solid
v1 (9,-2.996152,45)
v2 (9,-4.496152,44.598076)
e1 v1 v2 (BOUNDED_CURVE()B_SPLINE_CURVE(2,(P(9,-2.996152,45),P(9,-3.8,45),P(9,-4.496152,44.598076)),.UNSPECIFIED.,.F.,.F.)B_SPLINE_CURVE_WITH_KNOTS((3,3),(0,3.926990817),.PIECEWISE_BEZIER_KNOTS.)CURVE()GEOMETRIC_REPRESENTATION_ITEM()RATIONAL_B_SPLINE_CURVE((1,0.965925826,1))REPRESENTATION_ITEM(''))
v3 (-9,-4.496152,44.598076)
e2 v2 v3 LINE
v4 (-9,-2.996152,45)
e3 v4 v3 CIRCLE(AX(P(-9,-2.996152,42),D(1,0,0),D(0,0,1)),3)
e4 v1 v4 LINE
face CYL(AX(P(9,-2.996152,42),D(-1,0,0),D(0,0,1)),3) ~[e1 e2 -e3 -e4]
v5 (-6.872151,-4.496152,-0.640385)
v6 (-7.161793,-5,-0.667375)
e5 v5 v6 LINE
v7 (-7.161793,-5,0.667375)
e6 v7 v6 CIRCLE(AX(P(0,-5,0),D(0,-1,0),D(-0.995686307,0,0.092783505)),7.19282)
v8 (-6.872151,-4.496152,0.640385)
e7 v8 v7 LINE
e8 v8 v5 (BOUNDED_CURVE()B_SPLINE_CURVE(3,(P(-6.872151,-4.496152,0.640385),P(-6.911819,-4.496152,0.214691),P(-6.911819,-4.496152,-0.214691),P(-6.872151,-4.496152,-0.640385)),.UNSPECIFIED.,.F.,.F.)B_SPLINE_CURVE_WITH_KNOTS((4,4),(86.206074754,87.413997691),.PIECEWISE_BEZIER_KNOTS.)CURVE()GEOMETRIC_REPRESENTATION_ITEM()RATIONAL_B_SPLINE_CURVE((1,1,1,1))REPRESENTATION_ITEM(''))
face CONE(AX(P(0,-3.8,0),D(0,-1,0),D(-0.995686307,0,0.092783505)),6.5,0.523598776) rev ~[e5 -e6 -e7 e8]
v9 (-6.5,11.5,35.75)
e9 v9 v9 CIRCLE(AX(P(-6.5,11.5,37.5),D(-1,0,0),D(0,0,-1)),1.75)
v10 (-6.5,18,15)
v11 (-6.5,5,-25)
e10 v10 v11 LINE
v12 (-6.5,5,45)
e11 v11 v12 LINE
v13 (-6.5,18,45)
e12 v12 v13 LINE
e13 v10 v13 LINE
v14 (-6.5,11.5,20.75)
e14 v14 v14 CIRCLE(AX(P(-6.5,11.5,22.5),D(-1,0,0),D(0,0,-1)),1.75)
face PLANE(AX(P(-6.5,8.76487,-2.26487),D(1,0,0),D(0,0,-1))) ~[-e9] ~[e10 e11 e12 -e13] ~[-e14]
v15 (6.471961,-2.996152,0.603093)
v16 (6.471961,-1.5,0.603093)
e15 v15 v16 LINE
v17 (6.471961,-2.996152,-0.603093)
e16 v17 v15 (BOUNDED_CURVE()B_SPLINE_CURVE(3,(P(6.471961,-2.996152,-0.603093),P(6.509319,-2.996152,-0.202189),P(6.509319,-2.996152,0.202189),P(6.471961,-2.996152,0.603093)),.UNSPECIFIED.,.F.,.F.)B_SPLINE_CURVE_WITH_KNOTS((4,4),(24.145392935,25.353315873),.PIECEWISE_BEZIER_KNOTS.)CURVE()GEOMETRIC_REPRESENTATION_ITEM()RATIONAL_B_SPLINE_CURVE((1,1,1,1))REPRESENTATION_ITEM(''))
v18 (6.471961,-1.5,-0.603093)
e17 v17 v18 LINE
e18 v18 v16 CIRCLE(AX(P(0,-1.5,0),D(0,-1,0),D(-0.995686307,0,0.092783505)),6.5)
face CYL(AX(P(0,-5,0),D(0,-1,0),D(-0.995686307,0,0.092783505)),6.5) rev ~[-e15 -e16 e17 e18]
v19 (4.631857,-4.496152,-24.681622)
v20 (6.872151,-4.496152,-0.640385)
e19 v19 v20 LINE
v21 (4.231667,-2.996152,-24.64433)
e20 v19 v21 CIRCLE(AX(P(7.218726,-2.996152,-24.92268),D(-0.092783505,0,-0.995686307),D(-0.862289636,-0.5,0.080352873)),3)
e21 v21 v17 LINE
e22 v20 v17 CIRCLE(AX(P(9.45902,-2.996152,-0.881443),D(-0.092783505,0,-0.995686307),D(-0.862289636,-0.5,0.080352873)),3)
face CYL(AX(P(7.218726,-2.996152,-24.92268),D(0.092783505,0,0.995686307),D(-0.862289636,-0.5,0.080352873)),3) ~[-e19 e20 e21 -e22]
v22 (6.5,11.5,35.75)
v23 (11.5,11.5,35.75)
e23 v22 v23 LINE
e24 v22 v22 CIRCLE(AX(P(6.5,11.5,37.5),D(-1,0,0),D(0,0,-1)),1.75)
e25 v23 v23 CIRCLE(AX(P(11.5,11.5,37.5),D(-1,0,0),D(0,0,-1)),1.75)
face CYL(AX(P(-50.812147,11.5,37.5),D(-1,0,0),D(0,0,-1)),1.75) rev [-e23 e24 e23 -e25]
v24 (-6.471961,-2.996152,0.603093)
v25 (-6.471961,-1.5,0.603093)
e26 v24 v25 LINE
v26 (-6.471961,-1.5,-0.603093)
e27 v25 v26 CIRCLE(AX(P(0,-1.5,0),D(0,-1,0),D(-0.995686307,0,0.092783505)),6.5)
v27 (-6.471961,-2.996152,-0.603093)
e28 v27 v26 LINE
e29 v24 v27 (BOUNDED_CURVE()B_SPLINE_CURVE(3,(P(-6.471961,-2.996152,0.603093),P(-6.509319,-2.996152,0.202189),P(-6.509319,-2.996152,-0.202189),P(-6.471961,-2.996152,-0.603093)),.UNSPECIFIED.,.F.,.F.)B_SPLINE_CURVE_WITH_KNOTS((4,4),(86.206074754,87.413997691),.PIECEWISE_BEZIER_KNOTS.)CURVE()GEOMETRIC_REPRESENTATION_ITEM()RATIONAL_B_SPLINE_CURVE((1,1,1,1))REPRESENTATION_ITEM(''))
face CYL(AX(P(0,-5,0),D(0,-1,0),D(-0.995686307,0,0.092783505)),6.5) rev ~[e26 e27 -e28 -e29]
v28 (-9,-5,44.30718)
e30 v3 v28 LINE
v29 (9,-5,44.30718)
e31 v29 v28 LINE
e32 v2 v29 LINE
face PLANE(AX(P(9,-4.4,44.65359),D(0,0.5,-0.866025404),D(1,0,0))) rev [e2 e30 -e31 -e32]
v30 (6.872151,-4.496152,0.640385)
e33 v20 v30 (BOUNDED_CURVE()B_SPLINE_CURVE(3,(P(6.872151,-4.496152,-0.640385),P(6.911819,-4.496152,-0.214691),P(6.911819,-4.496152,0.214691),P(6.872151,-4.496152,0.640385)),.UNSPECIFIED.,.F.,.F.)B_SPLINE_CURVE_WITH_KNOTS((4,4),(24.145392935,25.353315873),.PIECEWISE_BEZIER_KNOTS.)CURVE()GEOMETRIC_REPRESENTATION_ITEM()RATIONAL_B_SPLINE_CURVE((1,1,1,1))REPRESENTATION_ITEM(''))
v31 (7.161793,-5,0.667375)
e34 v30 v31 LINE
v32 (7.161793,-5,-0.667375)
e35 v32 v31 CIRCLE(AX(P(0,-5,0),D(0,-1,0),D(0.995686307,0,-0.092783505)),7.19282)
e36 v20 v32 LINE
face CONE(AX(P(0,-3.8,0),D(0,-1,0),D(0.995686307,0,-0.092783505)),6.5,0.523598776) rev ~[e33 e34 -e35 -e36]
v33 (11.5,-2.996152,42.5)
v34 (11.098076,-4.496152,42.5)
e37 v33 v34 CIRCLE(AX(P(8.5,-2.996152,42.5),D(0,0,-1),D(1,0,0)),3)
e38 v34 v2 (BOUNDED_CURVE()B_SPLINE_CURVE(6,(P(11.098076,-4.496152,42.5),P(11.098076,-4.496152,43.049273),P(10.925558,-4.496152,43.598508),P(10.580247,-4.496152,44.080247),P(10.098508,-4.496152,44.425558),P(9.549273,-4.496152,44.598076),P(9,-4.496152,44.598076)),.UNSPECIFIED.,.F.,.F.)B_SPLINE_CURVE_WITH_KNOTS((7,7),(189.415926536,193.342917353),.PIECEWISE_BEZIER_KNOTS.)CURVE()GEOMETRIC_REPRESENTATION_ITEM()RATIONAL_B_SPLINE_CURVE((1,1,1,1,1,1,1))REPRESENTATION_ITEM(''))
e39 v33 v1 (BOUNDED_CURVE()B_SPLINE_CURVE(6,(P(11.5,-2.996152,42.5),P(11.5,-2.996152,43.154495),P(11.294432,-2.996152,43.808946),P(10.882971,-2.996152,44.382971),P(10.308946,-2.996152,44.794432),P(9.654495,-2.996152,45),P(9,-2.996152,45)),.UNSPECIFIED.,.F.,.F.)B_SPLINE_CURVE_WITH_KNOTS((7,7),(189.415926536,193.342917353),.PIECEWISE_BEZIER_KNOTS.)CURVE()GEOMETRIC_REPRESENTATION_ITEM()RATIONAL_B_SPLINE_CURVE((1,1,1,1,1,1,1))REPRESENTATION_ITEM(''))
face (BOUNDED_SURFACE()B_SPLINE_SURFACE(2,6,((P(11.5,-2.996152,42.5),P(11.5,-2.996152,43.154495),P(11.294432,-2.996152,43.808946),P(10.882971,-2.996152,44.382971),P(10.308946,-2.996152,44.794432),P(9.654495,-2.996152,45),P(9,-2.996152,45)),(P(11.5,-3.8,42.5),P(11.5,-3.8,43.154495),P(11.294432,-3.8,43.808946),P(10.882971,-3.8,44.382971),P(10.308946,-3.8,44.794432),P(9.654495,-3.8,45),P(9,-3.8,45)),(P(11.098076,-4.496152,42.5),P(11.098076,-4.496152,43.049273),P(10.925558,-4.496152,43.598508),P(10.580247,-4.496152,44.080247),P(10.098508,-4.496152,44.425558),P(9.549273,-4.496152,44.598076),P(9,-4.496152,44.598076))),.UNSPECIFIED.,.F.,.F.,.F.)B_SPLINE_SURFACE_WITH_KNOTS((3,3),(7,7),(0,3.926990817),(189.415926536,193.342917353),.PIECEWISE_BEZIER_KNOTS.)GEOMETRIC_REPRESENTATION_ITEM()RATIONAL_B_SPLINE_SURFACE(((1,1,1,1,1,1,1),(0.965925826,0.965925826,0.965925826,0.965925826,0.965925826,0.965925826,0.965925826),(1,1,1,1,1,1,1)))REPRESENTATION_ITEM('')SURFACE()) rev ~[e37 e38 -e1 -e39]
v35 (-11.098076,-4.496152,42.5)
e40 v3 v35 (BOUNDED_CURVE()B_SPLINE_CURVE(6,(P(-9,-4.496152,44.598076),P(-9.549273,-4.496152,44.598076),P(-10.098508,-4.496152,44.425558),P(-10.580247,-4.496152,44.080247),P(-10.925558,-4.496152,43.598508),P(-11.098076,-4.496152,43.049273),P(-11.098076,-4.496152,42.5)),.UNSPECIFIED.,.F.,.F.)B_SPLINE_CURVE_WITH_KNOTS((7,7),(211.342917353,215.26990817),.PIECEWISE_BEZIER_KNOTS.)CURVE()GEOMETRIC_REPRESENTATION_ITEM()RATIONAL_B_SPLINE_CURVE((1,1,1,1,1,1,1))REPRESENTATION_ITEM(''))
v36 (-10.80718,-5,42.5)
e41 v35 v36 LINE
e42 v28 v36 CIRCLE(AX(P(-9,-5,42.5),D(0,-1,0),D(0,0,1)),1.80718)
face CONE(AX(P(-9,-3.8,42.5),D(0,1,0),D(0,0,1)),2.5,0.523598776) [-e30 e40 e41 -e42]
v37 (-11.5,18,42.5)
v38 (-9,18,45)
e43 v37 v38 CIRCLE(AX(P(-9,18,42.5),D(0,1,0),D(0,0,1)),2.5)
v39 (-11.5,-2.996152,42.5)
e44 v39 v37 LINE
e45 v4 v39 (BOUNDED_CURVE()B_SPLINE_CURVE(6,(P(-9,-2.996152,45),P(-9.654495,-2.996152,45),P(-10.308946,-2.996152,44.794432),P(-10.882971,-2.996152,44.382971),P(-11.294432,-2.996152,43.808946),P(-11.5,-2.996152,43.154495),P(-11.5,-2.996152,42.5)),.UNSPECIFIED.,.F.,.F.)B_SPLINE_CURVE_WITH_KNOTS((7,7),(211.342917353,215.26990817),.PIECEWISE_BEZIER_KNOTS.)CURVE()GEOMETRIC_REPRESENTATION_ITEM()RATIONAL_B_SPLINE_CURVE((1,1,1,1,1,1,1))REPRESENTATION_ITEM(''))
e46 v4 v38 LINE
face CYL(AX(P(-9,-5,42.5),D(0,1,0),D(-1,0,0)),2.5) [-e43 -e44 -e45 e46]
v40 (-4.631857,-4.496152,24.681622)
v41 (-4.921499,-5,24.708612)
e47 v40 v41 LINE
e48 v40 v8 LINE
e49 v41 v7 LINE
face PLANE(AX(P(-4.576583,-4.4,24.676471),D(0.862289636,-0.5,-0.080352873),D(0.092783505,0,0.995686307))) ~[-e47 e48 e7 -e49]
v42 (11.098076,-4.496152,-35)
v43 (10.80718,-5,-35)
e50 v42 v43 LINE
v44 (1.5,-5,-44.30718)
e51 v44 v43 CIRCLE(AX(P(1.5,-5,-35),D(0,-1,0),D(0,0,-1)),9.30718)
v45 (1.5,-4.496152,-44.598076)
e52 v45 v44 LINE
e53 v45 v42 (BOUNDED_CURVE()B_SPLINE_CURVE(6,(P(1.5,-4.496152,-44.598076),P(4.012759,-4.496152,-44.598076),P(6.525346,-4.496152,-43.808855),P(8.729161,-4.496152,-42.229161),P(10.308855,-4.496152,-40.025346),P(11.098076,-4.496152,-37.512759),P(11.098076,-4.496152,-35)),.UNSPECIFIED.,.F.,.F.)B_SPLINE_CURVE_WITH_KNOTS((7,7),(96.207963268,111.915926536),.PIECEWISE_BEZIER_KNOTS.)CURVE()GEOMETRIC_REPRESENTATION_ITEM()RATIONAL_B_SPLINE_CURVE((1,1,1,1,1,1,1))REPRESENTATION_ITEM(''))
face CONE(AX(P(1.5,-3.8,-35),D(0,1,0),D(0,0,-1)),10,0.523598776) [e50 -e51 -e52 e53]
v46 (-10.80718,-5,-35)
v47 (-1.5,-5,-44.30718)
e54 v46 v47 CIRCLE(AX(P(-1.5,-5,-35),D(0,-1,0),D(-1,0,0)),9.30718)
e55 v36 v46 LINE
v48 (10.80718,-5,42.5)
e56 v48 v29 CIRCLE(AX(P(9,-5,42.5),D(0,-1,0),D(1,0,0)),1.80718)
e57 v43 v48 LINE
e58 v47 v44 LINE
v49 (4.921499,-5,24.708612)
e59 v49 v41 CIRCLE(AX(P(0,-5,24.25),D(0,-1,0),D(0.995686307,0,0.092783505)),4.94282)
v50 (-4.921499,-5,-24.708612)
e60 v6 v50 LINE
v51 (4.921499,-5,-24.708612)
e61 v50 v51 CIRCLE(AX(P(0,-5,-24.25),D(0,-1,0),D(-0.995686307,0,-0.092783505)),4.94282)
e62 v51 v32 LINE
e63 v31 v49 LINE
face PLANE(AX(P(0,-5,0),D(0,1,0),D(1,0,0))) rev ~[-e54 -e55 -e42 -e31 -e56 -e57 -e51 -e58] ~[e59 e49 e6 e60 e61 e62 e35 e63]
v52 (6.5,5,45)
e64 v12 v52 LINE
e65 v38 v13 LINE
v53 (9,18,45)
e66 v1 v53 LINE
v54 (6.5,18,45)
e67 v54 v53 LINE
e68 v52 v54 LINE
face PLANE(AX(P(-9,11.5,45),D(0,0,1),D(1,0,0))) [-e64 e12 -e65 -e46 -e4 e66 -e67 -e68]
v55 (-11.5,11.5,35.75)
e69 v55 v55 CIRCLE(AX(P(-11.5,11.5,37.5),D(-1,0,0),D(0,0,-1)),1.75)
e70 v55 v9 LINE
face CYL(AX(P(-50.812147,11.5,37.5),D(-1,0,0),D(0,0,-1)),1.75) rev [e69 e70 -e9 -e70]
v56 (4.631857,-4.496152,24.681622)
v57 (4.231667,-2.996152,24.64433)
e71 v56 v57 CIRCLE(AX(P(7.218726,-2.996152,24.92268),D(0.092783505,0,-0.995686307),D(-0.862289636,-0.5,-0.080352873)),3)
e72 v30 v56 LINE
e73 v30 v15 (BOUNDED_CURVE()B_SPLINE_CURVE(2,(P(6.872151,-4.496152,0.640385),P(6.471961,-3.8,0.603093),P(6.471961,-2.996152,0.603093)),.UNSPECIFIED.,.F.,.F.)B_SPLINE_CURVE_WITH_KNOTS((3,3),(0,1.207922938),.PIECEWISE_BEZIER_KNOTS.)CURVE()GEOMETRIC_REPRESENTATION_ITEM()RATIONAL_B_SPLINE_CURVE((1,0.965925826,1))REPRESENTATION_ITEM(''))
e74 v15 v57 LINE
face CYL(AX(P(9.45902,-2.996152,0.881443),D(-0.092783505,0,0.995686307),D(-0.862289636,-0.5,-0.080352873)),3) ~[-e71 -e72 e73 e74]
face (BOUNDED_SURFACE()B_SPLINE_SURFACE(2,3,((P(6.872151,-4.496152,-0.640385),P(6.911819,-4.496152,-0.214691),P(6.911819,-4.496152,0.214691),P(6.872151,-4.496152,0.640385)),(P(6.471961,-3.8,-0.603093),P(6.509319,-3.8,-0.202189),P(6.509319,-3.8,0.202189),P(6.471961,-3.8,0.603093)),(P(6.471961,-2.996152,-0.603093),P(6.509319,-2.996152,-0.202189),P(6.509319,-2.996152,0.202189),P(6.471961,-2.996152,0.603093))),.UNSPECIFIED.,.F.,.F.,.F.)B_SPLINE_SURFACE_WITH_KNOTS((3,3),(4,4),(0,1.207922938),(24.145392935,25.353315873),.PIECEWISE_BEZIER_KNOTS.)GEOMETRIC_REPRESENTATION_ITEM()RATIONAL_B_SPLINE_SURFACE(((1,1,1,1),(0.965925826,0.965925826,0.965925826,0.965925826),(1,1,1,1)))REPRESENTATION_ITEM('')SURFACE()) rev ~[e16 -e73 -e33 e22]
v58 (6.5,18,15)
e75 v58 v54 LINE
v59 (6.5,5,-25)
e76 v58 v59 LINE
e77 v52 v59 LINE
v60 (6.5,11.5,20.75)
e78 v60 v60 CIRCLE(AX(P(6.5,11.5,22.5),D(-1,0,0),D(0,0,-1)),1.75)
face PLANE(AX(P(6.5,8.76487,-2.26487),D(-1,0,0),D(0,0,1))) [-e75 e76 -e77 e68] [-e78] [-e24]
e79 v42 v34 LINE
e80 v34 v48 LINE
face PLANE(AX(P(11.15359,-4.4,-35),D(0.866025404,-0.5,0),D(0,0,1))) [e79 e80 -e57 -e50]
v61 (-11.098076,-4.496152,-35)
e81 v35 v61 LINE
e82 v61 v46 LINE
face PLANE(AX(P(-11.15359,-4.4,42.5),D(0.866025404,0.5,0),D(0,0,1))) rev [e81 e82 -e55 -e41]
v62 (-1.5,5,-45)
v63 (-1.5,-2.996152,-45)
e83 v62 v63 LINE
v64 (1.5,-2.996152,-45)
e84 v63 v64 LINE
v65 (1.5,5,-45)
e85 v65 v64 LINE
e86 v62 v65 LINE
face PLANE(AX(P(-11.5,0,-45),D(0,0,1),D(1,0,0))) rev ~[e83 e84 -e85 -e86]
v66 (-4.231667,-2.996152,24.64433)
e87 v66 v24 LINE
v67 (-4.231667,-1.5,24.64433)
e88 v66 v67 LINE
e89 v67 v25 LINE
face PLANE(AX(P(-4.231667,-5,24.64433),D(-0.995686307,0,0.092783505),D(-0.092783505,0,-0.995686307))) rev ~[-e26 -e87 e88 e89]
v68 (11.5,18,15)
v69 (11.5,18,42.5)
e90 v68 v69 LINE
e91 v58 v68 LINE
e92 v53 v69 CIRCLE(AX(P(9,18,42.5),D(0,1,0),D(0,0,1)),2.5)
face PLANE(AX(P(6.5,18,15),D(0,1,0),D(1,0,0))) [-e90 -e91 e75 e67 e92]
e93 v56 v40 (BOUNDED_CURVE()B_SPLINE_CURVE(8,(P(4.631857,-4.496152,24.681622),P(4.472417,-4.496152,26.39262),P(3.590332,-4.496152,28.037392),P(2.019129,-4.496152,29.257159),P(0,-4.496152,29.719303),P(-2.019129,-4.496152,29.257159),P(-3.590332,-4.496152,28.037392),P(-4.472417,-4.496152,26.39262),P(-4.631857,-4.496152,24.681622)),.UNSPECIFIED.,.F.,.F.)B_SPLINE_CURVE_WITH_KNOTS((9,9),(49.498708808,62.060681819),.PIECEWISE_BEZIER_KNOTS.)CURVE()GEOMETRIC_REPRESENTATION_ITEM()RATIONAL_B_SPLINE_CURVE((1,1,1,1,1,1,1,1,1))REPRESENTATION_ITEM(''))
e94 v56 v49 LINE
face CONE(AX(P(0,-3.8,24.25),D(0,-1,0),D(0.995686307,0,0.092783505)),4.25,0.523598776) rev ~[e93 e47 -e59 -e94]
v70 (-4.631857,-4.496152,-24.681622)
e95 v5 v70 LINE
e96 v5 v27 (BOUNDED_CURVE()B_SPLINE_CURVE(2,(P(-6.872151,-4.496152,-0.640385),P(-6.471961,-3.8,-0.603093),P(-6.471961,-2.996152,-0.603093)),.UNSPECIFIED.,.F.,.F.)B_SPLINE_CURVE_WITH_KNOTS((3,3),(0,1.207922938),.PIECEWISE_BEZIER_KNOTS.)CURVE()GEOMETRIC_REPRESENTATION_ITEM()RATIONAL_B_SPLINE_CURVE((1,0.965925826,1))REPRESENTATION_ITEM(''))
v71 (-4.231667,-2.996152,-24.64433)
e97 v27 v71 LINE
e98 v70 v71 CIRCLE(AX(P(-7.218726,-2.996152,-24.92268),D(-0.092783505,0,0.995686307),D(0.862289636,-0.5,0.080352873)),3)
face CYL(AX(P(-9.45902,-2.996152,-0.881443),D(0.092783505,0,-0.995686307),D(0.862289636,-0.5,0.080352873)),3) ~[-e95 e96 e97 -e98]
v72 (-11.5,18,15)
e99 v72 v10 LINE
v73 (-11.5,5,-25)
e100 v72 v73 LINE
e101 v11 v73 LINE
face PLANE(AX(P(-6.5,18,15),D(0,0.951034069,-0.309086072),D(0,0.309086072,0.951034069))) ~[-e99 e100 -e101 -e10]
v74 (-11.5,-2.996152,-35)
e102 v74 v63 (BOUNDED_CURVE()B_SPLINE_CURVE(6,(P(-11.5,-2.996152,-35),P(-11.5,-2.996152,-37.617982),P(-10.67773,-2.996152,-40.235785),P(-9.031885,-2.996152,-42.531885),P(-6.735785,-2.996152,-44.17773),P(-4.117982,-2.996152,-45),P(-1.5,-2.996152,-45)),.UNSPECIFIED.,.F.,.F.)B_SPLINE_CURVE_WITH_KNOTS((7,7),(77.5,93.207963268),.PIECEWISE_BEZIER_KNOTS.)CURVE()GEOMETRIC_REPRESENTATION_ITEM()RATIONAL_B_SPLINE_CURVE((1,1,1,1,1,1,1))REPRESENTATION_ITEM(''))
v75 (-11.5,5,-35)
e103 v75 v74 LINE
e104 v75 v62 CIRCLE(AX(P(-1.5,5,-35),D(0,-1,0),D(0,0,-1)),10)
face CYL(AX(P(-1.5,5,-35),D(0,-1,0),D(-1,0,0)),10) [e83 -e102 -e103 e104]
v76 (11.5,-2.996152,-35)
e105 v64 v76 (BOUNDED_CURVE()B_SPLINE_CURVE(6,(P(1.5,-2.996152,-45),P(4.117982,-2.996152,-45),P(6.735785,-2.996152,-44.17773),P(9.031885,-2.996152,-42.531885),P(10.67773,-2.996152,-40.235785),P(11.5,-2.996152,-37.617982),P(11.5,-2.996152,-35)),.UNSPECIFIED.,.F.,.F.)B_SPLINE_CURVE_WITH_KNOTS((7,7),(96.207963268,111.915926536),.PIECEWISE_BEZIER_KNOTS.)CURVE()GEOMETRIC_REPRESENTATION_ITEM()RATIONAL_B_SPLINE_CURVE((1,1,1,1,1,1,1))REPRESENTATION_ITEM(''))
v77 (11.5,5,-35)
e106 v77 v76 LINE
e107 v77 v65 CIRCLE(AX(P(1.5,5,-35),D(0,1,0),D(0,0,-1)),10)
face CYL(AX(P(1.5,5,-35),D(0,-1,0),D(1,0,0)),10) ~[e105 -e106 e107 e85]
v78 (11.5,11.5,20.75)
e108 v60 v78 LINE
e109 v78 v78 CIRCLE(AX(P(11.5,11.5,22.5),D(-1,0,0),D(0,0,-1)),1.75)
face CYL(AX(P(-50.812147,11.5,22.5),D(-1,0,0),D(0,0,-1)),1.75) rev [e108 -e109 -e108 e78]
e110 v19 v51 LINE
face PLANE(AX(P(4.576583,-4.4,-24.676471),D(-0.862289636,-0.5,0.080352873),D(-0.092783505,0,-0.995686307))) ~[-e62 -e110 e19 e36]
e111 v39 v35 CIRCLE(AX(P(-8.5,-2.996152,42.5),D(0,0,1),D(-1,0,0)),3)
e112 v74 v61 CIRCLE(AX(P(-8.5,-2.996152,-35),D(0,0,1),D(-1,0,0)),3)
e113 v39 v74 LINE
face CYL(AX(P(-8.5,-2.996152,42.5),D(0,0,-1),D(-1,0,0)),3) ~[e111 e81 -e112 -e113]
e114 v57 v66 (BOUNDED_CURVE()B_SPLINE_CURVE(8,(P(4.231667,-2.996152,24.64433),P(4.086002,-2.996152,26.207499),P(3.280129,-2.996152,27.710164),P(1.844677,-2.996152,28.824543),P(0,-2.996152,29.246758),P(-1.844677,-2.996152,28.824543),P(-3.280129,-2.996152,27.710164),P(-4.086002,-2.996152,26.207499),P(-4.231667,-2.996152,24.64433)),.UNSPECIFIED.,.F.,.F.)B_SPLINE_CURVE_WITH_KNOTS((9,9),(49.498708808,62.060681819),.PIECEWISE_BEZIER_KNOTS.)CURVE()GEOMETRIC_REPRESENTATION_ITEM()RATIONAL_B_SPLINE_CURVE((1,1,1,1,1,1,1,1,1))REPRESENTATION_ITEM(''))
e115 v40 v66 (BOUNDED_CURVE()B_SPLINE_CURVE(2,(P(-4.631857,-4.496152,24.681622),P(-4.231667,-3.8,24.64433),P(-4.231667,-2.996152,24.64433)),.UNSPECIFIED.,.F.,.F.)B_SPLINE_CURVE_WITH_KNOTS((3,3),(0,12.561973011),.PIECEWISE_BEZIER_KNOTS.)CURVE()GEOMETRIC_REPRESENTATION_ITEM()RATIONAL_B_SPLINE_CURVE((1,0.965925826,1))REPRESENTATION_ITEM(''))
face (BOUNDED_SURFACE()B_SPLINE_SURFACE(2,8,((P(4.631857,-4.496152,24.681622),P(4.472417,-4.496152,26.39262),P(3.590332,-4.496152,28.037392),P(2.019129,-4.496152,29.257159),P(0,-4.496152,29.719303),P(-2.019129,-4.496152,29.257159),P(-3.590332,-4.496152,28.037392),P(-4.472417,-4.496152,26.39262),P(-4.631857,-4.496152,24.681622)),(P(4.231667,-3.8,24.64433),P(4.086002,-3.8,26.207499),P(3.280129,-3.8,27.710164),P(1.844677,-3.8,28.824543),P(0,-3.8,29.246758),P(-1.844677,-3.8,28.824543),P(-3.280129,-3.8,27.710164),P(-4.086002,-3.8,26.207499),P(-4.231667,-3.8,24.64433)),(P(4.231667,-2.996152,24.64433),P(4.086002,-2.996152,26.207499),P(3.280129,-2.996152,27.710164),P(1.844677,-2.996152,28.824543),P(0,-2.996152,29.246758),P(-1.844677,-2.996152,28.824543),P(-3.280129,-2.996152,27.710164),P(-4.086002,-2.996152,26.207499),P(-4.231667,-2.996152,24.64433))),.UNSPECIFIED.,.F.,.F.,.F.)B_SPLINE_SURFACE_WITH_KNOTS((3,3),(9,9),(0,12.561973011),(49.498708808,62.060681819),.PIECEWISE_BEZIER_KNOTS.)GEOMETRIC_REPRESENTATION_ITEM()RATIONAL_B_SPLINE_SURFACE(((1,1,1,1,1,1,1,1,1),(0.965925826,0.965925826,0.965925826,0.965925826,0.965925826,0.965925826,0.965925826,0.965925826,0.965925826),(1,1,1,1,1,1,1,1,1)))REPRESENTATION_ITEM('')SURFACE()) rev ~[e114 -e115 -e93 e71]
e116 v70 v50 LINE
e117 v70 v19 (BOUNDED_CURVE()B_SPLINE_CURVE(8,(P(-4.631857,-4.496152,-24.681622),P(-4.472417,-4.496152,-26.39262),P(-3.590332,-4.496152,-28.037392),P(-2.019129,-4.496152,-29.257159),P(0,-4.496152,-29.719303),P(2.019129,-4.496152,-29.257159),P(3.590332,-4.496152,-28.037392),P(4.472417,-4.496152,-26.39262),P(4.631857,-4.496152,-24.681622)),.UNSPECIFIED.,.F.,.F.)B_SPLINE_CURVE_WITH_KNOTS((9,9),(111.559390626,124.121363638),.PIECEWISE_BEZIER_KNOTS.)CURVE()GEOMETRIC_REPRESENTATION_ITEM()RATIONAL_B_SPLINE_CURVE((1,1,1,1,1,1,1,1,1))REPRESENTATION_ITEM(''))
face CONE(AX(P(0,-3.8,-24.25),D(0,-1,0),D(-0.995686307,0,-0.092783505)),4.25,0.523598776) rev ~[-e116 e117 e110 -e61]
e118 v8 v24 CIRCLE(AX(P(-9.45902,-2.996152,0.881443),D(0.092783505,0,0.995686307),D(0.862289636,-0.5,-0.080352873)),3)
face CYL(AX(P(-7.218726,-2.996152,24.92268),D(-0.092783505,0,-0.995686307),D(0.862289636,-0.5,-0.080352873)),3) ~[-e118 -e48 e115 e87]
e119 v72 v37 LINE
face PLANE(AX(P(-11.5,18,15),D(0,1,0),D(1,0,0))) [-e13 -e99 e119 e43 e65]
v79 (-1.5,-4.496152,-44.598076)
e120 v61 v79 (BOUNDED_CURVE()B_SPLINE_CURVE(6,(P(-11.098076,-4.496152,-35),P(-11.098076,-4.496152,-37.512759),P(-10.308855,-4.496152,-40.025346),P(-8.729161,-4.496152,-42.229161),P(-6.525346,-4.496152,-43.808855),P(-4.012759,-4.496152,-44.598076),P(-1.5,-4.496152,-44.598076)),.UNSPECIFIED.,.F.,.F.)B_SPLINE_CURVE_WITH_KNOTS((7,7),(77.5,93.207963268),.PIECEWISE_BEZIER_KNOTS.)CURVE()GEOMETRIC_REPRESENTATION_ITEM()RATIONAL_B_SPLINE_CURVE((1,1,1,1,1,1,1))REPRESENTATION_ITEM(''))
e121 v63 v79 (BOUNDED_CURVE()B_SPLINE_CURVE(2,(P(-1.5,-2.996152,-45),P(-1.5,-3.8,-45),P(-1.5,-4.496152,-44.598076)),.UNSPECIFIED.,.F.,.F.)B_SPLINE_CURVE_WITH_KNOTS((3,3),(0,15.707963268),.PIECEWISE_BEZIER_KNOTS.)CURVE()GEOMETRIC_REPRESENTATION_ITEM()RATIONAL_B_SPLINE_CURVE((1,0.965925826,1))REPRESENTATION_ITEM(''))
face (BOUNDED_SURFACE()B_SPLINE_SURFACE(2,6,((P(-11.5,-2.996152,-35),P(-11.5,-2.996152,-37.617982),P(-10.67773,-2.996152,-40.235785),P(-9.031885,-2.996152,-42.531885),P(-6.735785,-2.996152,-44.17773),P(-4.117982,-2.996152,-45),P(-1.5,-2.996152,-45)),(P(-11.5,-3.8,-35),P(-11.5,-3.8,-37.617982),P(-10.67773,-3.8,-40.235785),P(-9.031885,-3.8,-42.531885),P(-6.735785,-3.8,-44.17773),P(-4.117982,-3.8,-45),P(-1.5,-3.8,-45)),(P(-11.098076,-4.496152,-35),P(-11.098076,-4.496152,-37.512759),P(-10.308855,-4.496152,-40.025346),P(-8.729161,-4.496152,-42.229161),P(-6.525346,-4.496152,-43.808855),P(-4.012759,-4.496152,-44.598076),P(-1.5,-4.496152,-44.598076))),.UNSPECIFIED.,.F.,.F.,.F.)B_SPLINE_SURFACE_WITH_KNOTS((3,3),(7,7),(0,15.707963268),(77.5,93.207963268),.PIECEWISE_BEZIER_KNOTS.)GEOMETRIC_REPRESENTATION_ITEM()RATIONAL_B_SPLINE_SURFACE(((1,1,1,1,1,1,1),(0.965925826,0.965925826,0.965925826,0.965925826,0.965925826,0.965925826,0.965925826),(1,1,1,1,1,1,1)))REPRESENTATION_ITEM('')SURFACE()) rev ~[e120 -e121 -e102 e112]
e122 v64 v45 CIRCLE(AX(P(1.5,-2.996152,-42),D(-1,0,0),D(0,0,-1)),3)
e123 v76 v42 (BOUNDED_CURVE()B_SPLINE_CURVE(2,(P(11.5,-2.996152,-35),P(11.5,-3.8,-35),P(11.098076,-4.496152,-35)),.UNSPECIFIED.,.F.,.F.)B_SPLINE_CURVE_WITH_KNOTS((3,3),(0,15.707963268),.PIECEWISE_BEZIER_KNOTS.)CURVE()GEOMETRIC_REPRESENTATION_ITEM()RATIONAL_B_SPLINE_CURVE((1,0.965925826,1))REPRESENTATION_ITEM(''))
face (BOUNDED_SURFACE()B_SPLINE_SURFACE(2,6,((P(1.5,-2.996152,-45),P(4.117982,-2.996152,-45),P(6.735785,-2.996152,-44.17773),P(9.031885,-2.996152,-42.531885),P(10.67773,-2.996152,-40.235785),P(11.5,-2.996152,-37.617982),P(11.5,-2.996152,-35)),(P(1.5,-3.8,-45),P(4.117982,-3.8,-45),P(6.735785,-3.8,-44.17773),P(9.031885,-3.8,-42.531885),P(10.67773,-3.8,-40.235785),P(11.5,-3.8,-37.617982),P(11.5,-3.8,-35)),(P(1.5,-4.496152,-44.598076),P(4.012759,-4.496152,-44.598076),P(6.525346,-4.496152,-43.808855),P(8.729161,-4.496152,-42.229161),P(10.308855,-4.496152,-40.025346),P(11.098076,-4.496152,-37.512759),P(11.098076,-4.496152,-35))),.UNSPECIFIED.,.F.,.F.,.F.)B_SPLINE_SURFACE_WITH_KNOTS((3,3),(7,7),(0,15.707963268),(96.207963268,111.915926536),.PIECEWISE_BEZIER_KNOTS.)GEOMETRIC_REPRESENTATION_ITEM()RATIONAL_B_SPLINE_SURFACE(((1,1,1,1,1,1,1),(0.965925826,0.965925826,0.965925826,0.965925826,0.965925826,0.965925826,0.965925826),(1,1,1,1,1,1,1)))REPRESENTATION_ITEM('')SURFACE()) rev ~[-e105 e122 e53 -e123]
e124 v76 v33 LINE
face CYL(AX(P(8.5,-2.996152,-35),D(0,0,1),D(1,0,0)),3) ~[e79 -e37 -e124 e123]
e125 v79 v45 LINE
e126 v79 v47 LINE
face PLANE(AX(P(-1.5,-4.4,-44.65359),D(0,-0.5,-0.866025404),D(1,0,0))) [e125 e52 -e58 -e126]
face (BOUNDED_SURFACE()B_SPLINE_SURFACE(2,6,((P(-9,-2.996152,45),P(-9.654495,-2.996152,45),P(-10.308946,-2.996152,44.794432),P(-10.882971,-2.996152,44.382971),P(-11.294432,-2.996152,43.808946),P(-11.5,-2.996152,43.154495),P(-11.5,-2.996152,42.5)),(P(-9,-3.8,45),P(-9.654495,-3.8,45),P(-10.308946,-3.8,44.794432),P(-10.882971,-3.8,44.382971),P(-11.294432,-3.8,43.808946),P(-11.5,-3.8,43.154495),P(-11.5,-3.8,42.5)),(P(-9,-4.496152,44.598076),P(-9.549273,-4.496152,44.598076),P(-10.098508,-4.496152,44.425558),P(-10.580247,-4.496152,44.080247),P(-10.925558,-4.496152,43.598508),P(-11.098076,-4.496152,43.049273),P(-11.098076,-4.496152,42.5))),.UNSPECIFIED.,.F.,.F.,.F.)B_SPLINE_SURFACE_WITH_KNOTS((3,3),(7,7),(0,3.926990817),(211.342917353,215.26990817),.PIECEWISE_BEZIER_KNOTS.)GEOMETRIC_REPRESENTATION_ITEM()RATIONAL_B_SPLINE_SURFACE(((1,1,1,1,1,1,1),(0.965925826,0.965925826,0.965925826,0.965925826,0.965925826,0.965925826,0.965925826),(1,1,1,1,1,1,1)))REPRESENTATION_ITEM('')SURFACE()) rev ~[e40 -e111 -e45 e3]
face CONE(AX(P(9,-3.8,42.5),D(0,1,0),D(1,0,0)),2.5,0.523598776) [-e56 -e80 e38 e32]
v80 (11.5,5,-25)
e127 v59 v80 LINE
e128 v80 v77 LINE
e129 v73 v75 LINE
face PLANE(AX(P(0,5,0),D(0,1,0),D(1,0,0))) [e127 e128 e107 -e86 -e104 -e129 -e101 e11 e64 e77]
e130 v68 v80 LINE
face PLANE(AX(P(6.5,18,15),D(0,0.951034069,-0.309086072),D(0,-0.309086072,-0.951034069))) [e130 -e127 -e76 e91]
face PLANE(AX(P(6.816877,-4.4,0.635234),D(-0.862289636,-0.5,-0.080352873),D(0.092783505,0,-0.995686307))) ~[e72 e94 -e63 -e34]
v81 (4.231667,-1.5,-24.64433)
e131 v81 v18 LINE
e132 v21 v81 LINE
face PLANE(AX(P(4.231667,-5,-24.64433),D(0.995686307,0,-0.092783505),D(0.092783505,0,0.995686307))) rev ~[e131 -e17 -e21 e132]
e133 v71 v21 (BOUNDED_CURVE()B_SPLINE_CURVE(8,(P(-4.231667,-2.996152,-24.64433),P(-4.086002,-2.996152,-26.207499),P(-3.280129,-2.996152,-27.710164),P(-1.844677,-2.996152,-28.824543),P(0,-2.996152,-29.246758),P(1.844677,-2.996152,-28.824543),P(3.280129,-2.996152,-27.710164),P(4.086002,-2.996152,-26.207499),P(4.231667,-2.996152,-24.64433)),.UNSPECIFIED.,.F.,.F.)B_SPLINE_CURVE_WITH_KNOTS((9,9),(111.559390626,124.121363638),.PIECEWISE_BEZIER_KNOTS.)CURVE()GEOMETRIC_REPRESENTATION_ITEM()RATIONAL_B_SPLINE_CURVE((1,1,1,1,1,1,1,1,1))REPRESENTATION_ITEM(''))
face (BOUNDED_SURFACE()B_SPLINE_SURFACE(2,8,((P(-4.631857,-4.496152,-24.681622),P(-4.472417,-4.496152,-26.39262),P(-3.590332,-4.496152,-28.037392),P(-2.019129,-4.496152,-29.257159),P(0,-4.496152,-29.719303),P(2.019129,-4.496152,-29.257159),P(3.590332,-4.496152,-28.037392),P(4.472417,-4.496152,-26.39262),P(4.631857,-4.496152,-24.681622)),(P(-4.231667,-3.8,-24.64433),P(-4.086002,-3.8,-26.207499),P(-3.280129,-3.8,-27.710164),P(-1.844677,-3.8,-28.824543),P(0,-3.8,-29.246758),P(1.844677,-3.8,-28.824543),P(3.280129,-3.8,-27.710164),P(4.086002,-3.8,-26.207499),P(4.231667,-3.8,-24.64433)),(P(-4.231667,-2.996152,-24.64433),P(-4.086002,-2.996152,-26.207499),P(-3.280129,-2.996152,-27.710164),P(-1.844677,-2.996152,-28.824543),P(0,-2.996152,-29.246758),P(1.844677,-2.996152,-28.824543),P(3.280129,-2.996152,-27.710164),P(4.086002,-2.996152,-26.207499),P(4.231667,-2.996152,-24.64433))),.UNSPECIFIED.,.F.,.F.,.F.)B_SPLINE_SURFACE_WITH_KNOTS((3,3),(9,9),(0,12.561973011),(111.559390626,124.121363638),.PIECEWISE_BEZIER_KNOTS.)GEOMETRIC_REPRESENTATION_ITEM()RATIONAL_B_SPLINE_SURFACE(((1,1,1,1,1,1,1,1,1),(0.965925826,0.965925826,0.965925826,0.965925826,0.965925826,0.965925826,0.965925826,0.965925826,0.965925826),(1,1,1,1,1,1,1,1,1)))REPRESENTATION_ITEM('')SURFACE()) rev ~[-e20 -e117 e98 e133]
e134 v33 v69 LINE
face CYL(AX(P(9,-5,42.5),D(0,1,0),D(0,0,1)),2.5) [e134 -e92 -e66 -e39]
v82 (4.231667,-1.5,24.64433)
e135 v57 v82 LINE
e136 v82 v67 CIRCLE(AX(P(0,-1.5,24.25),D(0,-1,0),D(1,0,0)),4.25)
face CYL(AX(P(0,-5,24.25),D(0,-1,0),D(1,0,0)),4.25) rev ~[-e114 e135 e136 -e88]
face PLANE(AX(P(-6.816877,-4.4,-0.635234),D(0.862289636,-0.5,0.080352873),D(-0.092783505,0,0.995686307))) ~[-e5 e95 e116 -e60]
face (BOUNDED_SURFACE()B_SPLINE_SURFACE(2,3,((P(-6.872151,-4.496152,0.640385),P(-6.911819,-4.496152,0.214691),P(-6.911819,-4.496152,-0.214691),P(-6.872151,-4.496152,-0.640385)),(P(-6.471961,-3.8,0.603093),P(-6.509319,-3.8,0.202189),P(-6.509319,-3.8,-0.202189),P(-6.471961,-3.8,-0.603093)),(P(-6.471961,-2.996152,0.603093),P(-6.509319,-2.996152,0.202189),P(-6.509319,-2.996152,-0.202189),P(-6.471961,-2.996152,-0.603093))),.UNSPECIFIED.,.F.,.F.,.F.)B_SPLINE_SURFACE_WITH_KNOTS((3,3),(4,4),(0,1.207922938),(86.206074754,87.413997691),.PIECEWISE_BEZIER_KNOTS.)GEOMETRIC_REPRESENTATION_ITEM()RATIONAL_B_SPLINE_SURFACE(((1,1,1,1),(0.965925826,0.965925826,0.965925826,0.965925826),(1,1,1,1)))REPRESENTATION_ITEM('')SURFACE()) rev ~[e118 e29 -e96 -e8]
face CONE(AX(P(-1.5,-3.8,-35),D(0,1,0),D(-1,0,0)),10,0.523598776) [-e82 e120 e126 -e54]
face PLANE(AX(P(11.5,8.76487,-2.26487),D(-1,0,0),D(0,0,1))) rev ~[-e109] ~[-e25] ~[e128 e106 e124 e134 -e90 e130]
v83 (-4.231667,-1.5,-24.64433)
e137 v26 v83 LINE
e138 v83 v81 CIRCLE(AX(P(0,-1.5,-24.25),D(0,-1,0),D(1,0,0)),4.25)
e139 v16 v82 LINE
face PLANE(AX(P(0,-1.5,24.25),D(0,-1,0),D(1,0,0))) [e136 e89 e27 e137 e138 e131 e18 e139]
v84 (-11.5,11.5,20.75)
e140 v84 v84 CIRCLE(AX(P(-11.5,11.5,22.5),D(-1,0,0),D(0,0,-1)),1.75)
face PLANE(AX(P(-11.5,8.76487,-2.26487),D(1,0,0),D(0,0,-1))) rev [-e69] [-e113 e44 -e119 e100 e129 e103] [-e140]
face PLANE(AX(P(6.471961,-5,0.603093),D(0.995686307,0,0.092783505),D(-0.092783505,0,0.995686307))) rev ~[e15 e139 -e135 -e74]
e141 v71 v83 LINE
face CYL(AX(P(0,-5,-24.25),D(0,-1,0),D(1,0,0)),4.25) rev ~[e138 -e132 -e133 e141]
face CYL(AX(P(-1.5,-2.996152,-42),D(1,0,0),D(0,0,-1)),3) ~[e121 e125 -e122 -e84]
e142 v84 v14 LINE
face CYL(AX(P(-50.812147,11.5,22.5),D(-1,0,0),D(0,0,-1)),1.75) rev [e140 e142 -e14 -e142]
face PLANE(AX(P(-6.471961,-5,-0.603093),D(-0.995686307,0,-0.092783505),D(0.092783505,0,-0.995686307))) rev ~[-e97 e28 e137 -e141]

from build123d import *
from OCP.BRepFilletAPI import BRepFilletAPI_MakeChamfer

# Parameters (mm, degrees)
SKETCH_1_W               = 23
SKETCH_1_H               = 90
EXTRUDE_1_DEPTH          = 5
SKETCH_2_R               = 4.25
SKETCH_2_R_2             = 6.5
CUT_EXTRUDE_1_DEPTH      = 3.5
EXTRUDE_START            = 15
SKETCH_4_W               = 5
SKETCH_4_H               = 13
EXTRUDE_3_DEPTH          = 30
FILLET_2_R               = 10
CUT_EXTRUDE_2_DEPTH      = 50.812147113
CUT_EXTRUDE_2_DEPTH_BACK = 50.812147113
SKETCH_5_R               = 1.75
FILLET_3_R               = 2.5
EXTRUDE_START_2          = 6.5
EXTRUDE_4_DEPTH          = 5
CHAMFER_1_SIZE           = 1.2
CHAMFER_1_SIZE2          = 0.692820323
FILLET_4_R               = 3


with BuildPart() as part:
    # 스케치1 → 보스-돌출1 (new, symmetric)
    with BuildSketch(Plane(origin=(0, 0, 0), x_dir=(1, 0, 0), z_dir=(0, 1, 0))):
        Rectangle(SKETCH_1_W, SKETCH_1_H)
    extrude(amount=EXTRUDE_1_DEPTH, both=True)

    # 스케치2 → 컷-돌출1 (cut)
    with BuildSketch(Plane.XZ.offset(5)):
        with Locations((0, 24.25)):
            Circle(SKETCH_2_R)
        with BuildLine():
            ThreePointArc((4.25, 24.25), (-0.19737792, 20.004585773), (-4.231666803, 24.644329897))
            Line((-4.231666803, 24.644329897), (-6.471960993, 0.603092784))
            ThreePointArc((-6.471960993, 0.603092784), (0, 6.5), (6.471960993, 0.603092784))
            Line((6.471960993, 0.603092784), (4.231666803, 24.644329897))
            ThreePointArc((4.231666803, 24.644329897), (4.245414227, 24.44737792), (4.25, 24.25))
        make_face()
        Circle(SKETCH_2_R_2)
        with BuildLine():
            ThreePointArc((6.471960993, -0.603092784), (0, -6.5), (-6.471960993, -0.603092784))
            Line((-6.471960993, -0.603092784), (-4.231666803, -24.644329897))
            ThreePointArc((-4.231666803, -24.644329897), (-0.19737792, -20.004585773), (4.25, -24.25))
            ThreePointArc((4.25, -24.25), (4.245414227, -24.44737792), (4.231666803, -24.644329897))
            Line((4.231666803, -24.644329897), (6.471960993, -0.603092784))
        make_face()
        with Locations((0, -24.25)):
            Circle(SKETCH_2_R)
    extrude(amount=-CUT_EXTRUDE_1_DEPTH, mode=Mode.SUBTRACT)

    # 스케치4 → 보스-돌출3 (add)
    with BuildSketch(Plane.XY.offset(EXTRUDE_START)):
        with Locations((-9, 11.5)):
            Rectangle(SKETCH_4_W, SKETCH_4_H)
        with Locations((9, 11.5)):
            Rectangle(SKETCH_4_W, SKETCH_4_H)
    extrude(amount=EXTRUDE_3_DEPTH)

    # 필렛2
    fillet_2_edges = [part.edges().sort_by_distance(p)[0] for p in [
        (-11.5, 0, -45),
        (11.5, 0, -45),
    ]]
    fillet(fillet_2_edges, radius=FILLET_2_R)

    # 스케치5 → 컷-돌출2 (cut, two sides: drawn at the far end of the back side and taken through both)
    with BuildSketch(Plane(origin=(0, 0, 0), x_dir=(0, 0, -1), z_dir=(1, 0, 0)).offset(-CUT_EXTRUDE_2_DEPTH_BACK)):
        with Locations((-22.5, 11.5)):
            Circle(SKETCH_5_R)
        with Locations((-37.5, 11.5)):
            Circle(SKETCH_5_R)
    extrude(amount=CUT_EXTRUDE_2_DEPTH + CUT_EXTRUDE_2_DEPTH_BACK, mode=Mode.SUBTRACT)

    # 필렛3
    fillet_3_edges = [part.edges().sort_by_distance(p)[0] for p in [
        (11.5, 6.5, 45),
        (-11.5, 6.5, 45),
    ]]
    fillet(fillet_3_edges, radius=FILLET_3_R)

    # 스케치6 → 보스-돌출4 (add)
    with BuildSketch(Plane(origin=(0, 0, 0), x_dir=(0, 0, -1), z_dir=(1, 0, 0)).offset(EXTRUDE_START_2)):
        Polygon((-15, 18), (25, 5), (-15, 5), align=None)
    extrude_4 = extrude(amount=EXTRUDE_4_DEPTH)

    # 대칭 복사1: 보스-돌출4 across plane
    add(extrude_4.mirror(Plane(origin=(0, 0, 0), x_dir=(0, 0, 1), z_dir=(1, 0, 0))))

    # 모따기1: one chamfer whose edges measure the first distance from different faces: ONE call of the kernel's chamfer builder (chamfer() names one face for all edges)
    chamfer_1_edges_1 = [part.edges().sort_by_distance(p)[0] for p in [
        (5.351813898, -5, 12.62371134),
    ]]
    chamfer_1_side_1 = [part.faces().sort_by_distance(p)[0] for p in [
        (5.351813898, -3.25, 12.62371134),
    ]]
    chamfer_1_edges_2 = [part.edges().sort_by_distance(p)[0] for p in [
        (5.351813898, -5, -12.62371134),
    ]]
    chamfer_1_side_2 = [part.faces().sort_by_distance(p)[0] for p in [
        (5.351813898, -3.25, -12.62371134),
    ]]
    chamfer_1_edges_3 = [part.edges().sort_by_distance(p)[0] for p in [
        (0, -5, 28.5),
    ]]
    chamfer_1_side_3 = [part.faces().sort_by_distance(p)[0] for p in [
        (0, -3.25, 28.5),
    ]]
    chamfer_1_edges_4 = [part.edges().sort_by_distance(p)[0] for p in [
        (-5.351813898, -5, 12.62371134),
    ]]
    chamfer_1_side_4 = [part.faces().sort_by_distance(p)[0] for p in [
        (-5.351813898, -3.25, 12.62371134),
    ]]
    chamfer_1_edges_5 = [part.edges().sort_by_distance(p)[0] for p in [
        (-6.5, -5, 0),
    ]]
    chamfer_1_side_5 = [part.faces().sort_by_distance(p)[0] for p in [
        (-6.5, -3.25, 0),
    ]]
    chamfer_1_edges_6 = [part.edges().sort_by_distance(p)[0] for p in [
        (-5.351813898, -5, -12.62371134),
    ]]
    chamfer_1_side_6 = [part.faces().sort_by_distance(p)[0] for p in [
        (-5.351813898, -3.25, -12.62371134),
    ]]
    chamfer_1_edges_7 = [part.edges().sort_by_distance(p)[0] for p in [
        (0, -5, -28.5),
    ]]
    chamfer_1_side_7 = [part.faces().sort_by_distance(p)[0] for p in [
        (0, -3.25, -28.5),
    ]]
    chamfer_1_edges_8 = [part.edges().sort_by_distance(p)[0] for p in [
        (6.5, -5, 0),
    ]]
    chamfer_1_side_8 = [part.faces().sort_by_distance(p)[0] for p in [
        (6.5, -3.25, 0),
    ]]
    chamfer_1_edges_9 = [part.edges().sort_by_distance(p)[0] for p in [
        (0, -5, -45),
    ]]
    chamfer_1_side_9 = [part.faces().sort_by_distance(p)[0] for p in [
        (0, 0, -45),
    ]]
    chamfer_1_edges_10 = [part.edges().sort_by_distance(p)[0] for p in [
        (-11.5, -5, 3.75),
    ]]
    chamfer_1_side_10 = [part.faces().sort_by_distance(p)[0] for p in [
        (-11.5, 4.599741569, 9.495989177),
    ]]
    chamfer_1_edges_11 = [part.edges().sort_by_distance(p)[0] for p in [
        (-8.571067812, -5, -42.071067812),
    ]]
    chamfer_1_side_11 = [part.faces().sort_by_distance(p)[0] for p in [
        (-8.571067812, 0, -42.071067812),
    ]]
    chamfer_1_edges_12 = [part.edges().sort_by_distance(p)[0] for p in [
        (8.571067812, -5, -42.071067812),
    ]]
    chamfer_1_side_12 = [part.faces().sort_by_distance(p)[0] for p in [
        (8.571067812, 0, -42.071067812),
    ]]
    chamfer_1_edges_13 = [part.edges().sort_by_distance(p)[0] for p in [
        (0, -5, 45),
    ]]
    chamfer_1_side_13 = [part.faces().sort_by_distance(p)[0] for p in [
        (0, 3.051020408, 45),
    ]]
    chamfer_1_edges_14 = [part.edges().sort_by_distance(p)[0] for p in [
        (11.5, -5, 3.75),
    ]]
    chamfer_1_side_14 = [part.faces().sort_by_distance(p)[0] for p in [
        (11.5, 4.599741569, 9.495989177),
    ]]
    chamfer_1_edges_15 = [part.edges().sort_by_distance(p)[0] for p in [
        (10.767766953, -5, 44.267766953),
    ]]
    chamfer_1_side_15 = [part.faces().sort_by_distance(p)[0] for p in [
        (10.767766953, 6.5, 44.267766953),
    ]]
    chamfer_1_edges_16 = [part.edges().sort_by_distance(p)[0] for p in [
        (-10.767766953, -5, 44.267766953),
    ]]
    chamfer_1_side_16 = [part.faces().sort_by_distance(p)[0] for p in [
        (-10.767766953, 6.5, 44.267766953),
    ]]
    chamfer_1 = BRepFilletAPI_MakeChamfer(part.part.solid().wrapped)
    for e in chamfer_1_edges_1:
        chamfer_1.Add(CHAMFER_1_SIZE, CHAMFER_1_SIZE2, e.wrapped, chamfer_1_side_1[0].wrapped)  # the first distance lies on this face
    for e in chamfer_1_edges_2:
        chamfer_1.Add(CHAMFER_1_SIZE, CHAMFER_1_SIZE2, e.wrapped, chamfer_1_side_2[0].wrapped)  # the first distance lies on this face
    for e in chamfer_1_edges_3:
        chamfer_1.Add(CHAMFER_1_SIZE, CHAMFER_1_SIZE2, e.wrapped, chamfer_1_side_3[0].wrapped)  # the first distance lies on this face
    for e in chamfer_1_edges_4:
        chamfer_1.Add(CHAMFER_1_SIZE, CHAMFER_1_SIZE2, e.wrapped, chamfer_1_side_4[0].wrapped)  # the first distance lies on this face
    for e in chamfer_1_edges_5:
        chamfer_1.Add(CHAMFER_1_SIZE, CHAMFER_1_SIZE2, e.wrapped, chamfer_1_side_5[0].wrapped)  # the first distance lies on this face
    for e in chamfer_1_edges_6:
        chamfer_1.Add(CHAMFER_1_SIZE, CHAMFER_1_SIZE2, e.wrapped, chamfer_1_side_6[0].wrapped)  # the first distance lies on this face
    for e in chamfer_1_edges_7:
        chamfer_1.Add(CHAMFER_1_SIZE, CHAMFER_1_SIZE2, e.wrapped, chamfer_1_side_7[0].wrapped)  # the first distance lies on this face
    for e in chamfer_1_edges_8:
        chamfer_1.Add(CHAMFER_1_SIZE, CHAMFER_1_SIZE2, e.wrapped, chamfer_1_side_8[0].wrapped)  # the first distance lies on this face
    for e in chamfer_1_edges_9:
        chamfer_1.Add(CHAMFER_1_SIZE, CHAMFER_1_SIZE2, e.wrapped, chamfer_1_side_9[0].wrapped)  # the first distance lies on this face
    for e in chamfer_1_edges_10:
        chamfer_1.Add(CHAMFER_1_SIZE, CHAMFER_1_SIZE2, e.wrapped, chamfer_1_side_10[0].wrapped)  # the first distance lies on this face
    for e in chamfer_1_edges_11:
        chamfer_1.Add(CHAMFER_1_SIZE, CHAMFER_1_SIZE2, e.wrapped, chamfer_1_side_11[0].wrapped)  # the first distance lies on this face
    for e in chamfer_1_edges_12:
        chamfer_1.Add(CHAMFER_1_SIZE, CHAMFER_1_SIZE2, e.wrapped, chamfer_1_side_12[0].wrapped)  # the first distance lies on this face
    for e in chamfer_1_edges_13:
        chamfer_1.Add(CHAMFER_1_SIZE, CHAMFER_1_SIZE2, e.wrapped, chamfer_1_side_13[0].wrapped)  # the first distance lies on this face
    for e in chamfer_1_edges_14:
        chamfer_1.Add(CHAMFER_1_SIZE, CHAMFER_1_SIZE2, e.wrapped, chamfer_1_side_14[0].wrapped)  # the first distance lies on this face
    for e in chamfer_1_edges_15:
        chamfer_1.Add(CHAMFER_1_SIZE, CHAMFER_1_SIZE2, e.wrapped, chamfer_1_side_15[0].wrapped)  # the first distance lies on this face
    for e in chamfer_1_edges_16:
        chamfer_1.Add(CHAMFER_1_SIZE, CHAMFER_1_SIZE2, e.wrapped, chamfer_1_side_16[0].wrapped)  # the first distance lies on this face
    add(Compound.cast(chamfer_1.Shape()), mode=Mode.REPLACE)

    # 필렛4
    fillet_4_edges = [part.edges().sort_by_distance(p)[0] for p in [
        (5.351813898, -3.8, -12.62371134),
        (6.5, -3.8, 0),
        (0, -3.8, -28.5),
        (5.351813898, -3.8, 12.62371134),
        (-5.351813898, -3.8, -12.62371134),
        (0, -3.8, 28.5),
        (-6.5, -3.8, 0),
        (-5.351813898, -3.8, 12.62371134),
        (-11.5, -3.8, 3.75),
        (-10.767766953, -3.8, 44.267766953),
        (-8.571067812, -3.8, -42.071067812),
        (0, -3.8, 45),
        (0, -3.8, -45),
        (10.767766953, -3.8, 44.267766953),
        (8.571067812, -3.8, -42.071067812),
        (11.5, -3.8, 3.75),
    ]]
    fillet(fillet_4_edges, radius=FILLET_4_R)


solid = part.part
